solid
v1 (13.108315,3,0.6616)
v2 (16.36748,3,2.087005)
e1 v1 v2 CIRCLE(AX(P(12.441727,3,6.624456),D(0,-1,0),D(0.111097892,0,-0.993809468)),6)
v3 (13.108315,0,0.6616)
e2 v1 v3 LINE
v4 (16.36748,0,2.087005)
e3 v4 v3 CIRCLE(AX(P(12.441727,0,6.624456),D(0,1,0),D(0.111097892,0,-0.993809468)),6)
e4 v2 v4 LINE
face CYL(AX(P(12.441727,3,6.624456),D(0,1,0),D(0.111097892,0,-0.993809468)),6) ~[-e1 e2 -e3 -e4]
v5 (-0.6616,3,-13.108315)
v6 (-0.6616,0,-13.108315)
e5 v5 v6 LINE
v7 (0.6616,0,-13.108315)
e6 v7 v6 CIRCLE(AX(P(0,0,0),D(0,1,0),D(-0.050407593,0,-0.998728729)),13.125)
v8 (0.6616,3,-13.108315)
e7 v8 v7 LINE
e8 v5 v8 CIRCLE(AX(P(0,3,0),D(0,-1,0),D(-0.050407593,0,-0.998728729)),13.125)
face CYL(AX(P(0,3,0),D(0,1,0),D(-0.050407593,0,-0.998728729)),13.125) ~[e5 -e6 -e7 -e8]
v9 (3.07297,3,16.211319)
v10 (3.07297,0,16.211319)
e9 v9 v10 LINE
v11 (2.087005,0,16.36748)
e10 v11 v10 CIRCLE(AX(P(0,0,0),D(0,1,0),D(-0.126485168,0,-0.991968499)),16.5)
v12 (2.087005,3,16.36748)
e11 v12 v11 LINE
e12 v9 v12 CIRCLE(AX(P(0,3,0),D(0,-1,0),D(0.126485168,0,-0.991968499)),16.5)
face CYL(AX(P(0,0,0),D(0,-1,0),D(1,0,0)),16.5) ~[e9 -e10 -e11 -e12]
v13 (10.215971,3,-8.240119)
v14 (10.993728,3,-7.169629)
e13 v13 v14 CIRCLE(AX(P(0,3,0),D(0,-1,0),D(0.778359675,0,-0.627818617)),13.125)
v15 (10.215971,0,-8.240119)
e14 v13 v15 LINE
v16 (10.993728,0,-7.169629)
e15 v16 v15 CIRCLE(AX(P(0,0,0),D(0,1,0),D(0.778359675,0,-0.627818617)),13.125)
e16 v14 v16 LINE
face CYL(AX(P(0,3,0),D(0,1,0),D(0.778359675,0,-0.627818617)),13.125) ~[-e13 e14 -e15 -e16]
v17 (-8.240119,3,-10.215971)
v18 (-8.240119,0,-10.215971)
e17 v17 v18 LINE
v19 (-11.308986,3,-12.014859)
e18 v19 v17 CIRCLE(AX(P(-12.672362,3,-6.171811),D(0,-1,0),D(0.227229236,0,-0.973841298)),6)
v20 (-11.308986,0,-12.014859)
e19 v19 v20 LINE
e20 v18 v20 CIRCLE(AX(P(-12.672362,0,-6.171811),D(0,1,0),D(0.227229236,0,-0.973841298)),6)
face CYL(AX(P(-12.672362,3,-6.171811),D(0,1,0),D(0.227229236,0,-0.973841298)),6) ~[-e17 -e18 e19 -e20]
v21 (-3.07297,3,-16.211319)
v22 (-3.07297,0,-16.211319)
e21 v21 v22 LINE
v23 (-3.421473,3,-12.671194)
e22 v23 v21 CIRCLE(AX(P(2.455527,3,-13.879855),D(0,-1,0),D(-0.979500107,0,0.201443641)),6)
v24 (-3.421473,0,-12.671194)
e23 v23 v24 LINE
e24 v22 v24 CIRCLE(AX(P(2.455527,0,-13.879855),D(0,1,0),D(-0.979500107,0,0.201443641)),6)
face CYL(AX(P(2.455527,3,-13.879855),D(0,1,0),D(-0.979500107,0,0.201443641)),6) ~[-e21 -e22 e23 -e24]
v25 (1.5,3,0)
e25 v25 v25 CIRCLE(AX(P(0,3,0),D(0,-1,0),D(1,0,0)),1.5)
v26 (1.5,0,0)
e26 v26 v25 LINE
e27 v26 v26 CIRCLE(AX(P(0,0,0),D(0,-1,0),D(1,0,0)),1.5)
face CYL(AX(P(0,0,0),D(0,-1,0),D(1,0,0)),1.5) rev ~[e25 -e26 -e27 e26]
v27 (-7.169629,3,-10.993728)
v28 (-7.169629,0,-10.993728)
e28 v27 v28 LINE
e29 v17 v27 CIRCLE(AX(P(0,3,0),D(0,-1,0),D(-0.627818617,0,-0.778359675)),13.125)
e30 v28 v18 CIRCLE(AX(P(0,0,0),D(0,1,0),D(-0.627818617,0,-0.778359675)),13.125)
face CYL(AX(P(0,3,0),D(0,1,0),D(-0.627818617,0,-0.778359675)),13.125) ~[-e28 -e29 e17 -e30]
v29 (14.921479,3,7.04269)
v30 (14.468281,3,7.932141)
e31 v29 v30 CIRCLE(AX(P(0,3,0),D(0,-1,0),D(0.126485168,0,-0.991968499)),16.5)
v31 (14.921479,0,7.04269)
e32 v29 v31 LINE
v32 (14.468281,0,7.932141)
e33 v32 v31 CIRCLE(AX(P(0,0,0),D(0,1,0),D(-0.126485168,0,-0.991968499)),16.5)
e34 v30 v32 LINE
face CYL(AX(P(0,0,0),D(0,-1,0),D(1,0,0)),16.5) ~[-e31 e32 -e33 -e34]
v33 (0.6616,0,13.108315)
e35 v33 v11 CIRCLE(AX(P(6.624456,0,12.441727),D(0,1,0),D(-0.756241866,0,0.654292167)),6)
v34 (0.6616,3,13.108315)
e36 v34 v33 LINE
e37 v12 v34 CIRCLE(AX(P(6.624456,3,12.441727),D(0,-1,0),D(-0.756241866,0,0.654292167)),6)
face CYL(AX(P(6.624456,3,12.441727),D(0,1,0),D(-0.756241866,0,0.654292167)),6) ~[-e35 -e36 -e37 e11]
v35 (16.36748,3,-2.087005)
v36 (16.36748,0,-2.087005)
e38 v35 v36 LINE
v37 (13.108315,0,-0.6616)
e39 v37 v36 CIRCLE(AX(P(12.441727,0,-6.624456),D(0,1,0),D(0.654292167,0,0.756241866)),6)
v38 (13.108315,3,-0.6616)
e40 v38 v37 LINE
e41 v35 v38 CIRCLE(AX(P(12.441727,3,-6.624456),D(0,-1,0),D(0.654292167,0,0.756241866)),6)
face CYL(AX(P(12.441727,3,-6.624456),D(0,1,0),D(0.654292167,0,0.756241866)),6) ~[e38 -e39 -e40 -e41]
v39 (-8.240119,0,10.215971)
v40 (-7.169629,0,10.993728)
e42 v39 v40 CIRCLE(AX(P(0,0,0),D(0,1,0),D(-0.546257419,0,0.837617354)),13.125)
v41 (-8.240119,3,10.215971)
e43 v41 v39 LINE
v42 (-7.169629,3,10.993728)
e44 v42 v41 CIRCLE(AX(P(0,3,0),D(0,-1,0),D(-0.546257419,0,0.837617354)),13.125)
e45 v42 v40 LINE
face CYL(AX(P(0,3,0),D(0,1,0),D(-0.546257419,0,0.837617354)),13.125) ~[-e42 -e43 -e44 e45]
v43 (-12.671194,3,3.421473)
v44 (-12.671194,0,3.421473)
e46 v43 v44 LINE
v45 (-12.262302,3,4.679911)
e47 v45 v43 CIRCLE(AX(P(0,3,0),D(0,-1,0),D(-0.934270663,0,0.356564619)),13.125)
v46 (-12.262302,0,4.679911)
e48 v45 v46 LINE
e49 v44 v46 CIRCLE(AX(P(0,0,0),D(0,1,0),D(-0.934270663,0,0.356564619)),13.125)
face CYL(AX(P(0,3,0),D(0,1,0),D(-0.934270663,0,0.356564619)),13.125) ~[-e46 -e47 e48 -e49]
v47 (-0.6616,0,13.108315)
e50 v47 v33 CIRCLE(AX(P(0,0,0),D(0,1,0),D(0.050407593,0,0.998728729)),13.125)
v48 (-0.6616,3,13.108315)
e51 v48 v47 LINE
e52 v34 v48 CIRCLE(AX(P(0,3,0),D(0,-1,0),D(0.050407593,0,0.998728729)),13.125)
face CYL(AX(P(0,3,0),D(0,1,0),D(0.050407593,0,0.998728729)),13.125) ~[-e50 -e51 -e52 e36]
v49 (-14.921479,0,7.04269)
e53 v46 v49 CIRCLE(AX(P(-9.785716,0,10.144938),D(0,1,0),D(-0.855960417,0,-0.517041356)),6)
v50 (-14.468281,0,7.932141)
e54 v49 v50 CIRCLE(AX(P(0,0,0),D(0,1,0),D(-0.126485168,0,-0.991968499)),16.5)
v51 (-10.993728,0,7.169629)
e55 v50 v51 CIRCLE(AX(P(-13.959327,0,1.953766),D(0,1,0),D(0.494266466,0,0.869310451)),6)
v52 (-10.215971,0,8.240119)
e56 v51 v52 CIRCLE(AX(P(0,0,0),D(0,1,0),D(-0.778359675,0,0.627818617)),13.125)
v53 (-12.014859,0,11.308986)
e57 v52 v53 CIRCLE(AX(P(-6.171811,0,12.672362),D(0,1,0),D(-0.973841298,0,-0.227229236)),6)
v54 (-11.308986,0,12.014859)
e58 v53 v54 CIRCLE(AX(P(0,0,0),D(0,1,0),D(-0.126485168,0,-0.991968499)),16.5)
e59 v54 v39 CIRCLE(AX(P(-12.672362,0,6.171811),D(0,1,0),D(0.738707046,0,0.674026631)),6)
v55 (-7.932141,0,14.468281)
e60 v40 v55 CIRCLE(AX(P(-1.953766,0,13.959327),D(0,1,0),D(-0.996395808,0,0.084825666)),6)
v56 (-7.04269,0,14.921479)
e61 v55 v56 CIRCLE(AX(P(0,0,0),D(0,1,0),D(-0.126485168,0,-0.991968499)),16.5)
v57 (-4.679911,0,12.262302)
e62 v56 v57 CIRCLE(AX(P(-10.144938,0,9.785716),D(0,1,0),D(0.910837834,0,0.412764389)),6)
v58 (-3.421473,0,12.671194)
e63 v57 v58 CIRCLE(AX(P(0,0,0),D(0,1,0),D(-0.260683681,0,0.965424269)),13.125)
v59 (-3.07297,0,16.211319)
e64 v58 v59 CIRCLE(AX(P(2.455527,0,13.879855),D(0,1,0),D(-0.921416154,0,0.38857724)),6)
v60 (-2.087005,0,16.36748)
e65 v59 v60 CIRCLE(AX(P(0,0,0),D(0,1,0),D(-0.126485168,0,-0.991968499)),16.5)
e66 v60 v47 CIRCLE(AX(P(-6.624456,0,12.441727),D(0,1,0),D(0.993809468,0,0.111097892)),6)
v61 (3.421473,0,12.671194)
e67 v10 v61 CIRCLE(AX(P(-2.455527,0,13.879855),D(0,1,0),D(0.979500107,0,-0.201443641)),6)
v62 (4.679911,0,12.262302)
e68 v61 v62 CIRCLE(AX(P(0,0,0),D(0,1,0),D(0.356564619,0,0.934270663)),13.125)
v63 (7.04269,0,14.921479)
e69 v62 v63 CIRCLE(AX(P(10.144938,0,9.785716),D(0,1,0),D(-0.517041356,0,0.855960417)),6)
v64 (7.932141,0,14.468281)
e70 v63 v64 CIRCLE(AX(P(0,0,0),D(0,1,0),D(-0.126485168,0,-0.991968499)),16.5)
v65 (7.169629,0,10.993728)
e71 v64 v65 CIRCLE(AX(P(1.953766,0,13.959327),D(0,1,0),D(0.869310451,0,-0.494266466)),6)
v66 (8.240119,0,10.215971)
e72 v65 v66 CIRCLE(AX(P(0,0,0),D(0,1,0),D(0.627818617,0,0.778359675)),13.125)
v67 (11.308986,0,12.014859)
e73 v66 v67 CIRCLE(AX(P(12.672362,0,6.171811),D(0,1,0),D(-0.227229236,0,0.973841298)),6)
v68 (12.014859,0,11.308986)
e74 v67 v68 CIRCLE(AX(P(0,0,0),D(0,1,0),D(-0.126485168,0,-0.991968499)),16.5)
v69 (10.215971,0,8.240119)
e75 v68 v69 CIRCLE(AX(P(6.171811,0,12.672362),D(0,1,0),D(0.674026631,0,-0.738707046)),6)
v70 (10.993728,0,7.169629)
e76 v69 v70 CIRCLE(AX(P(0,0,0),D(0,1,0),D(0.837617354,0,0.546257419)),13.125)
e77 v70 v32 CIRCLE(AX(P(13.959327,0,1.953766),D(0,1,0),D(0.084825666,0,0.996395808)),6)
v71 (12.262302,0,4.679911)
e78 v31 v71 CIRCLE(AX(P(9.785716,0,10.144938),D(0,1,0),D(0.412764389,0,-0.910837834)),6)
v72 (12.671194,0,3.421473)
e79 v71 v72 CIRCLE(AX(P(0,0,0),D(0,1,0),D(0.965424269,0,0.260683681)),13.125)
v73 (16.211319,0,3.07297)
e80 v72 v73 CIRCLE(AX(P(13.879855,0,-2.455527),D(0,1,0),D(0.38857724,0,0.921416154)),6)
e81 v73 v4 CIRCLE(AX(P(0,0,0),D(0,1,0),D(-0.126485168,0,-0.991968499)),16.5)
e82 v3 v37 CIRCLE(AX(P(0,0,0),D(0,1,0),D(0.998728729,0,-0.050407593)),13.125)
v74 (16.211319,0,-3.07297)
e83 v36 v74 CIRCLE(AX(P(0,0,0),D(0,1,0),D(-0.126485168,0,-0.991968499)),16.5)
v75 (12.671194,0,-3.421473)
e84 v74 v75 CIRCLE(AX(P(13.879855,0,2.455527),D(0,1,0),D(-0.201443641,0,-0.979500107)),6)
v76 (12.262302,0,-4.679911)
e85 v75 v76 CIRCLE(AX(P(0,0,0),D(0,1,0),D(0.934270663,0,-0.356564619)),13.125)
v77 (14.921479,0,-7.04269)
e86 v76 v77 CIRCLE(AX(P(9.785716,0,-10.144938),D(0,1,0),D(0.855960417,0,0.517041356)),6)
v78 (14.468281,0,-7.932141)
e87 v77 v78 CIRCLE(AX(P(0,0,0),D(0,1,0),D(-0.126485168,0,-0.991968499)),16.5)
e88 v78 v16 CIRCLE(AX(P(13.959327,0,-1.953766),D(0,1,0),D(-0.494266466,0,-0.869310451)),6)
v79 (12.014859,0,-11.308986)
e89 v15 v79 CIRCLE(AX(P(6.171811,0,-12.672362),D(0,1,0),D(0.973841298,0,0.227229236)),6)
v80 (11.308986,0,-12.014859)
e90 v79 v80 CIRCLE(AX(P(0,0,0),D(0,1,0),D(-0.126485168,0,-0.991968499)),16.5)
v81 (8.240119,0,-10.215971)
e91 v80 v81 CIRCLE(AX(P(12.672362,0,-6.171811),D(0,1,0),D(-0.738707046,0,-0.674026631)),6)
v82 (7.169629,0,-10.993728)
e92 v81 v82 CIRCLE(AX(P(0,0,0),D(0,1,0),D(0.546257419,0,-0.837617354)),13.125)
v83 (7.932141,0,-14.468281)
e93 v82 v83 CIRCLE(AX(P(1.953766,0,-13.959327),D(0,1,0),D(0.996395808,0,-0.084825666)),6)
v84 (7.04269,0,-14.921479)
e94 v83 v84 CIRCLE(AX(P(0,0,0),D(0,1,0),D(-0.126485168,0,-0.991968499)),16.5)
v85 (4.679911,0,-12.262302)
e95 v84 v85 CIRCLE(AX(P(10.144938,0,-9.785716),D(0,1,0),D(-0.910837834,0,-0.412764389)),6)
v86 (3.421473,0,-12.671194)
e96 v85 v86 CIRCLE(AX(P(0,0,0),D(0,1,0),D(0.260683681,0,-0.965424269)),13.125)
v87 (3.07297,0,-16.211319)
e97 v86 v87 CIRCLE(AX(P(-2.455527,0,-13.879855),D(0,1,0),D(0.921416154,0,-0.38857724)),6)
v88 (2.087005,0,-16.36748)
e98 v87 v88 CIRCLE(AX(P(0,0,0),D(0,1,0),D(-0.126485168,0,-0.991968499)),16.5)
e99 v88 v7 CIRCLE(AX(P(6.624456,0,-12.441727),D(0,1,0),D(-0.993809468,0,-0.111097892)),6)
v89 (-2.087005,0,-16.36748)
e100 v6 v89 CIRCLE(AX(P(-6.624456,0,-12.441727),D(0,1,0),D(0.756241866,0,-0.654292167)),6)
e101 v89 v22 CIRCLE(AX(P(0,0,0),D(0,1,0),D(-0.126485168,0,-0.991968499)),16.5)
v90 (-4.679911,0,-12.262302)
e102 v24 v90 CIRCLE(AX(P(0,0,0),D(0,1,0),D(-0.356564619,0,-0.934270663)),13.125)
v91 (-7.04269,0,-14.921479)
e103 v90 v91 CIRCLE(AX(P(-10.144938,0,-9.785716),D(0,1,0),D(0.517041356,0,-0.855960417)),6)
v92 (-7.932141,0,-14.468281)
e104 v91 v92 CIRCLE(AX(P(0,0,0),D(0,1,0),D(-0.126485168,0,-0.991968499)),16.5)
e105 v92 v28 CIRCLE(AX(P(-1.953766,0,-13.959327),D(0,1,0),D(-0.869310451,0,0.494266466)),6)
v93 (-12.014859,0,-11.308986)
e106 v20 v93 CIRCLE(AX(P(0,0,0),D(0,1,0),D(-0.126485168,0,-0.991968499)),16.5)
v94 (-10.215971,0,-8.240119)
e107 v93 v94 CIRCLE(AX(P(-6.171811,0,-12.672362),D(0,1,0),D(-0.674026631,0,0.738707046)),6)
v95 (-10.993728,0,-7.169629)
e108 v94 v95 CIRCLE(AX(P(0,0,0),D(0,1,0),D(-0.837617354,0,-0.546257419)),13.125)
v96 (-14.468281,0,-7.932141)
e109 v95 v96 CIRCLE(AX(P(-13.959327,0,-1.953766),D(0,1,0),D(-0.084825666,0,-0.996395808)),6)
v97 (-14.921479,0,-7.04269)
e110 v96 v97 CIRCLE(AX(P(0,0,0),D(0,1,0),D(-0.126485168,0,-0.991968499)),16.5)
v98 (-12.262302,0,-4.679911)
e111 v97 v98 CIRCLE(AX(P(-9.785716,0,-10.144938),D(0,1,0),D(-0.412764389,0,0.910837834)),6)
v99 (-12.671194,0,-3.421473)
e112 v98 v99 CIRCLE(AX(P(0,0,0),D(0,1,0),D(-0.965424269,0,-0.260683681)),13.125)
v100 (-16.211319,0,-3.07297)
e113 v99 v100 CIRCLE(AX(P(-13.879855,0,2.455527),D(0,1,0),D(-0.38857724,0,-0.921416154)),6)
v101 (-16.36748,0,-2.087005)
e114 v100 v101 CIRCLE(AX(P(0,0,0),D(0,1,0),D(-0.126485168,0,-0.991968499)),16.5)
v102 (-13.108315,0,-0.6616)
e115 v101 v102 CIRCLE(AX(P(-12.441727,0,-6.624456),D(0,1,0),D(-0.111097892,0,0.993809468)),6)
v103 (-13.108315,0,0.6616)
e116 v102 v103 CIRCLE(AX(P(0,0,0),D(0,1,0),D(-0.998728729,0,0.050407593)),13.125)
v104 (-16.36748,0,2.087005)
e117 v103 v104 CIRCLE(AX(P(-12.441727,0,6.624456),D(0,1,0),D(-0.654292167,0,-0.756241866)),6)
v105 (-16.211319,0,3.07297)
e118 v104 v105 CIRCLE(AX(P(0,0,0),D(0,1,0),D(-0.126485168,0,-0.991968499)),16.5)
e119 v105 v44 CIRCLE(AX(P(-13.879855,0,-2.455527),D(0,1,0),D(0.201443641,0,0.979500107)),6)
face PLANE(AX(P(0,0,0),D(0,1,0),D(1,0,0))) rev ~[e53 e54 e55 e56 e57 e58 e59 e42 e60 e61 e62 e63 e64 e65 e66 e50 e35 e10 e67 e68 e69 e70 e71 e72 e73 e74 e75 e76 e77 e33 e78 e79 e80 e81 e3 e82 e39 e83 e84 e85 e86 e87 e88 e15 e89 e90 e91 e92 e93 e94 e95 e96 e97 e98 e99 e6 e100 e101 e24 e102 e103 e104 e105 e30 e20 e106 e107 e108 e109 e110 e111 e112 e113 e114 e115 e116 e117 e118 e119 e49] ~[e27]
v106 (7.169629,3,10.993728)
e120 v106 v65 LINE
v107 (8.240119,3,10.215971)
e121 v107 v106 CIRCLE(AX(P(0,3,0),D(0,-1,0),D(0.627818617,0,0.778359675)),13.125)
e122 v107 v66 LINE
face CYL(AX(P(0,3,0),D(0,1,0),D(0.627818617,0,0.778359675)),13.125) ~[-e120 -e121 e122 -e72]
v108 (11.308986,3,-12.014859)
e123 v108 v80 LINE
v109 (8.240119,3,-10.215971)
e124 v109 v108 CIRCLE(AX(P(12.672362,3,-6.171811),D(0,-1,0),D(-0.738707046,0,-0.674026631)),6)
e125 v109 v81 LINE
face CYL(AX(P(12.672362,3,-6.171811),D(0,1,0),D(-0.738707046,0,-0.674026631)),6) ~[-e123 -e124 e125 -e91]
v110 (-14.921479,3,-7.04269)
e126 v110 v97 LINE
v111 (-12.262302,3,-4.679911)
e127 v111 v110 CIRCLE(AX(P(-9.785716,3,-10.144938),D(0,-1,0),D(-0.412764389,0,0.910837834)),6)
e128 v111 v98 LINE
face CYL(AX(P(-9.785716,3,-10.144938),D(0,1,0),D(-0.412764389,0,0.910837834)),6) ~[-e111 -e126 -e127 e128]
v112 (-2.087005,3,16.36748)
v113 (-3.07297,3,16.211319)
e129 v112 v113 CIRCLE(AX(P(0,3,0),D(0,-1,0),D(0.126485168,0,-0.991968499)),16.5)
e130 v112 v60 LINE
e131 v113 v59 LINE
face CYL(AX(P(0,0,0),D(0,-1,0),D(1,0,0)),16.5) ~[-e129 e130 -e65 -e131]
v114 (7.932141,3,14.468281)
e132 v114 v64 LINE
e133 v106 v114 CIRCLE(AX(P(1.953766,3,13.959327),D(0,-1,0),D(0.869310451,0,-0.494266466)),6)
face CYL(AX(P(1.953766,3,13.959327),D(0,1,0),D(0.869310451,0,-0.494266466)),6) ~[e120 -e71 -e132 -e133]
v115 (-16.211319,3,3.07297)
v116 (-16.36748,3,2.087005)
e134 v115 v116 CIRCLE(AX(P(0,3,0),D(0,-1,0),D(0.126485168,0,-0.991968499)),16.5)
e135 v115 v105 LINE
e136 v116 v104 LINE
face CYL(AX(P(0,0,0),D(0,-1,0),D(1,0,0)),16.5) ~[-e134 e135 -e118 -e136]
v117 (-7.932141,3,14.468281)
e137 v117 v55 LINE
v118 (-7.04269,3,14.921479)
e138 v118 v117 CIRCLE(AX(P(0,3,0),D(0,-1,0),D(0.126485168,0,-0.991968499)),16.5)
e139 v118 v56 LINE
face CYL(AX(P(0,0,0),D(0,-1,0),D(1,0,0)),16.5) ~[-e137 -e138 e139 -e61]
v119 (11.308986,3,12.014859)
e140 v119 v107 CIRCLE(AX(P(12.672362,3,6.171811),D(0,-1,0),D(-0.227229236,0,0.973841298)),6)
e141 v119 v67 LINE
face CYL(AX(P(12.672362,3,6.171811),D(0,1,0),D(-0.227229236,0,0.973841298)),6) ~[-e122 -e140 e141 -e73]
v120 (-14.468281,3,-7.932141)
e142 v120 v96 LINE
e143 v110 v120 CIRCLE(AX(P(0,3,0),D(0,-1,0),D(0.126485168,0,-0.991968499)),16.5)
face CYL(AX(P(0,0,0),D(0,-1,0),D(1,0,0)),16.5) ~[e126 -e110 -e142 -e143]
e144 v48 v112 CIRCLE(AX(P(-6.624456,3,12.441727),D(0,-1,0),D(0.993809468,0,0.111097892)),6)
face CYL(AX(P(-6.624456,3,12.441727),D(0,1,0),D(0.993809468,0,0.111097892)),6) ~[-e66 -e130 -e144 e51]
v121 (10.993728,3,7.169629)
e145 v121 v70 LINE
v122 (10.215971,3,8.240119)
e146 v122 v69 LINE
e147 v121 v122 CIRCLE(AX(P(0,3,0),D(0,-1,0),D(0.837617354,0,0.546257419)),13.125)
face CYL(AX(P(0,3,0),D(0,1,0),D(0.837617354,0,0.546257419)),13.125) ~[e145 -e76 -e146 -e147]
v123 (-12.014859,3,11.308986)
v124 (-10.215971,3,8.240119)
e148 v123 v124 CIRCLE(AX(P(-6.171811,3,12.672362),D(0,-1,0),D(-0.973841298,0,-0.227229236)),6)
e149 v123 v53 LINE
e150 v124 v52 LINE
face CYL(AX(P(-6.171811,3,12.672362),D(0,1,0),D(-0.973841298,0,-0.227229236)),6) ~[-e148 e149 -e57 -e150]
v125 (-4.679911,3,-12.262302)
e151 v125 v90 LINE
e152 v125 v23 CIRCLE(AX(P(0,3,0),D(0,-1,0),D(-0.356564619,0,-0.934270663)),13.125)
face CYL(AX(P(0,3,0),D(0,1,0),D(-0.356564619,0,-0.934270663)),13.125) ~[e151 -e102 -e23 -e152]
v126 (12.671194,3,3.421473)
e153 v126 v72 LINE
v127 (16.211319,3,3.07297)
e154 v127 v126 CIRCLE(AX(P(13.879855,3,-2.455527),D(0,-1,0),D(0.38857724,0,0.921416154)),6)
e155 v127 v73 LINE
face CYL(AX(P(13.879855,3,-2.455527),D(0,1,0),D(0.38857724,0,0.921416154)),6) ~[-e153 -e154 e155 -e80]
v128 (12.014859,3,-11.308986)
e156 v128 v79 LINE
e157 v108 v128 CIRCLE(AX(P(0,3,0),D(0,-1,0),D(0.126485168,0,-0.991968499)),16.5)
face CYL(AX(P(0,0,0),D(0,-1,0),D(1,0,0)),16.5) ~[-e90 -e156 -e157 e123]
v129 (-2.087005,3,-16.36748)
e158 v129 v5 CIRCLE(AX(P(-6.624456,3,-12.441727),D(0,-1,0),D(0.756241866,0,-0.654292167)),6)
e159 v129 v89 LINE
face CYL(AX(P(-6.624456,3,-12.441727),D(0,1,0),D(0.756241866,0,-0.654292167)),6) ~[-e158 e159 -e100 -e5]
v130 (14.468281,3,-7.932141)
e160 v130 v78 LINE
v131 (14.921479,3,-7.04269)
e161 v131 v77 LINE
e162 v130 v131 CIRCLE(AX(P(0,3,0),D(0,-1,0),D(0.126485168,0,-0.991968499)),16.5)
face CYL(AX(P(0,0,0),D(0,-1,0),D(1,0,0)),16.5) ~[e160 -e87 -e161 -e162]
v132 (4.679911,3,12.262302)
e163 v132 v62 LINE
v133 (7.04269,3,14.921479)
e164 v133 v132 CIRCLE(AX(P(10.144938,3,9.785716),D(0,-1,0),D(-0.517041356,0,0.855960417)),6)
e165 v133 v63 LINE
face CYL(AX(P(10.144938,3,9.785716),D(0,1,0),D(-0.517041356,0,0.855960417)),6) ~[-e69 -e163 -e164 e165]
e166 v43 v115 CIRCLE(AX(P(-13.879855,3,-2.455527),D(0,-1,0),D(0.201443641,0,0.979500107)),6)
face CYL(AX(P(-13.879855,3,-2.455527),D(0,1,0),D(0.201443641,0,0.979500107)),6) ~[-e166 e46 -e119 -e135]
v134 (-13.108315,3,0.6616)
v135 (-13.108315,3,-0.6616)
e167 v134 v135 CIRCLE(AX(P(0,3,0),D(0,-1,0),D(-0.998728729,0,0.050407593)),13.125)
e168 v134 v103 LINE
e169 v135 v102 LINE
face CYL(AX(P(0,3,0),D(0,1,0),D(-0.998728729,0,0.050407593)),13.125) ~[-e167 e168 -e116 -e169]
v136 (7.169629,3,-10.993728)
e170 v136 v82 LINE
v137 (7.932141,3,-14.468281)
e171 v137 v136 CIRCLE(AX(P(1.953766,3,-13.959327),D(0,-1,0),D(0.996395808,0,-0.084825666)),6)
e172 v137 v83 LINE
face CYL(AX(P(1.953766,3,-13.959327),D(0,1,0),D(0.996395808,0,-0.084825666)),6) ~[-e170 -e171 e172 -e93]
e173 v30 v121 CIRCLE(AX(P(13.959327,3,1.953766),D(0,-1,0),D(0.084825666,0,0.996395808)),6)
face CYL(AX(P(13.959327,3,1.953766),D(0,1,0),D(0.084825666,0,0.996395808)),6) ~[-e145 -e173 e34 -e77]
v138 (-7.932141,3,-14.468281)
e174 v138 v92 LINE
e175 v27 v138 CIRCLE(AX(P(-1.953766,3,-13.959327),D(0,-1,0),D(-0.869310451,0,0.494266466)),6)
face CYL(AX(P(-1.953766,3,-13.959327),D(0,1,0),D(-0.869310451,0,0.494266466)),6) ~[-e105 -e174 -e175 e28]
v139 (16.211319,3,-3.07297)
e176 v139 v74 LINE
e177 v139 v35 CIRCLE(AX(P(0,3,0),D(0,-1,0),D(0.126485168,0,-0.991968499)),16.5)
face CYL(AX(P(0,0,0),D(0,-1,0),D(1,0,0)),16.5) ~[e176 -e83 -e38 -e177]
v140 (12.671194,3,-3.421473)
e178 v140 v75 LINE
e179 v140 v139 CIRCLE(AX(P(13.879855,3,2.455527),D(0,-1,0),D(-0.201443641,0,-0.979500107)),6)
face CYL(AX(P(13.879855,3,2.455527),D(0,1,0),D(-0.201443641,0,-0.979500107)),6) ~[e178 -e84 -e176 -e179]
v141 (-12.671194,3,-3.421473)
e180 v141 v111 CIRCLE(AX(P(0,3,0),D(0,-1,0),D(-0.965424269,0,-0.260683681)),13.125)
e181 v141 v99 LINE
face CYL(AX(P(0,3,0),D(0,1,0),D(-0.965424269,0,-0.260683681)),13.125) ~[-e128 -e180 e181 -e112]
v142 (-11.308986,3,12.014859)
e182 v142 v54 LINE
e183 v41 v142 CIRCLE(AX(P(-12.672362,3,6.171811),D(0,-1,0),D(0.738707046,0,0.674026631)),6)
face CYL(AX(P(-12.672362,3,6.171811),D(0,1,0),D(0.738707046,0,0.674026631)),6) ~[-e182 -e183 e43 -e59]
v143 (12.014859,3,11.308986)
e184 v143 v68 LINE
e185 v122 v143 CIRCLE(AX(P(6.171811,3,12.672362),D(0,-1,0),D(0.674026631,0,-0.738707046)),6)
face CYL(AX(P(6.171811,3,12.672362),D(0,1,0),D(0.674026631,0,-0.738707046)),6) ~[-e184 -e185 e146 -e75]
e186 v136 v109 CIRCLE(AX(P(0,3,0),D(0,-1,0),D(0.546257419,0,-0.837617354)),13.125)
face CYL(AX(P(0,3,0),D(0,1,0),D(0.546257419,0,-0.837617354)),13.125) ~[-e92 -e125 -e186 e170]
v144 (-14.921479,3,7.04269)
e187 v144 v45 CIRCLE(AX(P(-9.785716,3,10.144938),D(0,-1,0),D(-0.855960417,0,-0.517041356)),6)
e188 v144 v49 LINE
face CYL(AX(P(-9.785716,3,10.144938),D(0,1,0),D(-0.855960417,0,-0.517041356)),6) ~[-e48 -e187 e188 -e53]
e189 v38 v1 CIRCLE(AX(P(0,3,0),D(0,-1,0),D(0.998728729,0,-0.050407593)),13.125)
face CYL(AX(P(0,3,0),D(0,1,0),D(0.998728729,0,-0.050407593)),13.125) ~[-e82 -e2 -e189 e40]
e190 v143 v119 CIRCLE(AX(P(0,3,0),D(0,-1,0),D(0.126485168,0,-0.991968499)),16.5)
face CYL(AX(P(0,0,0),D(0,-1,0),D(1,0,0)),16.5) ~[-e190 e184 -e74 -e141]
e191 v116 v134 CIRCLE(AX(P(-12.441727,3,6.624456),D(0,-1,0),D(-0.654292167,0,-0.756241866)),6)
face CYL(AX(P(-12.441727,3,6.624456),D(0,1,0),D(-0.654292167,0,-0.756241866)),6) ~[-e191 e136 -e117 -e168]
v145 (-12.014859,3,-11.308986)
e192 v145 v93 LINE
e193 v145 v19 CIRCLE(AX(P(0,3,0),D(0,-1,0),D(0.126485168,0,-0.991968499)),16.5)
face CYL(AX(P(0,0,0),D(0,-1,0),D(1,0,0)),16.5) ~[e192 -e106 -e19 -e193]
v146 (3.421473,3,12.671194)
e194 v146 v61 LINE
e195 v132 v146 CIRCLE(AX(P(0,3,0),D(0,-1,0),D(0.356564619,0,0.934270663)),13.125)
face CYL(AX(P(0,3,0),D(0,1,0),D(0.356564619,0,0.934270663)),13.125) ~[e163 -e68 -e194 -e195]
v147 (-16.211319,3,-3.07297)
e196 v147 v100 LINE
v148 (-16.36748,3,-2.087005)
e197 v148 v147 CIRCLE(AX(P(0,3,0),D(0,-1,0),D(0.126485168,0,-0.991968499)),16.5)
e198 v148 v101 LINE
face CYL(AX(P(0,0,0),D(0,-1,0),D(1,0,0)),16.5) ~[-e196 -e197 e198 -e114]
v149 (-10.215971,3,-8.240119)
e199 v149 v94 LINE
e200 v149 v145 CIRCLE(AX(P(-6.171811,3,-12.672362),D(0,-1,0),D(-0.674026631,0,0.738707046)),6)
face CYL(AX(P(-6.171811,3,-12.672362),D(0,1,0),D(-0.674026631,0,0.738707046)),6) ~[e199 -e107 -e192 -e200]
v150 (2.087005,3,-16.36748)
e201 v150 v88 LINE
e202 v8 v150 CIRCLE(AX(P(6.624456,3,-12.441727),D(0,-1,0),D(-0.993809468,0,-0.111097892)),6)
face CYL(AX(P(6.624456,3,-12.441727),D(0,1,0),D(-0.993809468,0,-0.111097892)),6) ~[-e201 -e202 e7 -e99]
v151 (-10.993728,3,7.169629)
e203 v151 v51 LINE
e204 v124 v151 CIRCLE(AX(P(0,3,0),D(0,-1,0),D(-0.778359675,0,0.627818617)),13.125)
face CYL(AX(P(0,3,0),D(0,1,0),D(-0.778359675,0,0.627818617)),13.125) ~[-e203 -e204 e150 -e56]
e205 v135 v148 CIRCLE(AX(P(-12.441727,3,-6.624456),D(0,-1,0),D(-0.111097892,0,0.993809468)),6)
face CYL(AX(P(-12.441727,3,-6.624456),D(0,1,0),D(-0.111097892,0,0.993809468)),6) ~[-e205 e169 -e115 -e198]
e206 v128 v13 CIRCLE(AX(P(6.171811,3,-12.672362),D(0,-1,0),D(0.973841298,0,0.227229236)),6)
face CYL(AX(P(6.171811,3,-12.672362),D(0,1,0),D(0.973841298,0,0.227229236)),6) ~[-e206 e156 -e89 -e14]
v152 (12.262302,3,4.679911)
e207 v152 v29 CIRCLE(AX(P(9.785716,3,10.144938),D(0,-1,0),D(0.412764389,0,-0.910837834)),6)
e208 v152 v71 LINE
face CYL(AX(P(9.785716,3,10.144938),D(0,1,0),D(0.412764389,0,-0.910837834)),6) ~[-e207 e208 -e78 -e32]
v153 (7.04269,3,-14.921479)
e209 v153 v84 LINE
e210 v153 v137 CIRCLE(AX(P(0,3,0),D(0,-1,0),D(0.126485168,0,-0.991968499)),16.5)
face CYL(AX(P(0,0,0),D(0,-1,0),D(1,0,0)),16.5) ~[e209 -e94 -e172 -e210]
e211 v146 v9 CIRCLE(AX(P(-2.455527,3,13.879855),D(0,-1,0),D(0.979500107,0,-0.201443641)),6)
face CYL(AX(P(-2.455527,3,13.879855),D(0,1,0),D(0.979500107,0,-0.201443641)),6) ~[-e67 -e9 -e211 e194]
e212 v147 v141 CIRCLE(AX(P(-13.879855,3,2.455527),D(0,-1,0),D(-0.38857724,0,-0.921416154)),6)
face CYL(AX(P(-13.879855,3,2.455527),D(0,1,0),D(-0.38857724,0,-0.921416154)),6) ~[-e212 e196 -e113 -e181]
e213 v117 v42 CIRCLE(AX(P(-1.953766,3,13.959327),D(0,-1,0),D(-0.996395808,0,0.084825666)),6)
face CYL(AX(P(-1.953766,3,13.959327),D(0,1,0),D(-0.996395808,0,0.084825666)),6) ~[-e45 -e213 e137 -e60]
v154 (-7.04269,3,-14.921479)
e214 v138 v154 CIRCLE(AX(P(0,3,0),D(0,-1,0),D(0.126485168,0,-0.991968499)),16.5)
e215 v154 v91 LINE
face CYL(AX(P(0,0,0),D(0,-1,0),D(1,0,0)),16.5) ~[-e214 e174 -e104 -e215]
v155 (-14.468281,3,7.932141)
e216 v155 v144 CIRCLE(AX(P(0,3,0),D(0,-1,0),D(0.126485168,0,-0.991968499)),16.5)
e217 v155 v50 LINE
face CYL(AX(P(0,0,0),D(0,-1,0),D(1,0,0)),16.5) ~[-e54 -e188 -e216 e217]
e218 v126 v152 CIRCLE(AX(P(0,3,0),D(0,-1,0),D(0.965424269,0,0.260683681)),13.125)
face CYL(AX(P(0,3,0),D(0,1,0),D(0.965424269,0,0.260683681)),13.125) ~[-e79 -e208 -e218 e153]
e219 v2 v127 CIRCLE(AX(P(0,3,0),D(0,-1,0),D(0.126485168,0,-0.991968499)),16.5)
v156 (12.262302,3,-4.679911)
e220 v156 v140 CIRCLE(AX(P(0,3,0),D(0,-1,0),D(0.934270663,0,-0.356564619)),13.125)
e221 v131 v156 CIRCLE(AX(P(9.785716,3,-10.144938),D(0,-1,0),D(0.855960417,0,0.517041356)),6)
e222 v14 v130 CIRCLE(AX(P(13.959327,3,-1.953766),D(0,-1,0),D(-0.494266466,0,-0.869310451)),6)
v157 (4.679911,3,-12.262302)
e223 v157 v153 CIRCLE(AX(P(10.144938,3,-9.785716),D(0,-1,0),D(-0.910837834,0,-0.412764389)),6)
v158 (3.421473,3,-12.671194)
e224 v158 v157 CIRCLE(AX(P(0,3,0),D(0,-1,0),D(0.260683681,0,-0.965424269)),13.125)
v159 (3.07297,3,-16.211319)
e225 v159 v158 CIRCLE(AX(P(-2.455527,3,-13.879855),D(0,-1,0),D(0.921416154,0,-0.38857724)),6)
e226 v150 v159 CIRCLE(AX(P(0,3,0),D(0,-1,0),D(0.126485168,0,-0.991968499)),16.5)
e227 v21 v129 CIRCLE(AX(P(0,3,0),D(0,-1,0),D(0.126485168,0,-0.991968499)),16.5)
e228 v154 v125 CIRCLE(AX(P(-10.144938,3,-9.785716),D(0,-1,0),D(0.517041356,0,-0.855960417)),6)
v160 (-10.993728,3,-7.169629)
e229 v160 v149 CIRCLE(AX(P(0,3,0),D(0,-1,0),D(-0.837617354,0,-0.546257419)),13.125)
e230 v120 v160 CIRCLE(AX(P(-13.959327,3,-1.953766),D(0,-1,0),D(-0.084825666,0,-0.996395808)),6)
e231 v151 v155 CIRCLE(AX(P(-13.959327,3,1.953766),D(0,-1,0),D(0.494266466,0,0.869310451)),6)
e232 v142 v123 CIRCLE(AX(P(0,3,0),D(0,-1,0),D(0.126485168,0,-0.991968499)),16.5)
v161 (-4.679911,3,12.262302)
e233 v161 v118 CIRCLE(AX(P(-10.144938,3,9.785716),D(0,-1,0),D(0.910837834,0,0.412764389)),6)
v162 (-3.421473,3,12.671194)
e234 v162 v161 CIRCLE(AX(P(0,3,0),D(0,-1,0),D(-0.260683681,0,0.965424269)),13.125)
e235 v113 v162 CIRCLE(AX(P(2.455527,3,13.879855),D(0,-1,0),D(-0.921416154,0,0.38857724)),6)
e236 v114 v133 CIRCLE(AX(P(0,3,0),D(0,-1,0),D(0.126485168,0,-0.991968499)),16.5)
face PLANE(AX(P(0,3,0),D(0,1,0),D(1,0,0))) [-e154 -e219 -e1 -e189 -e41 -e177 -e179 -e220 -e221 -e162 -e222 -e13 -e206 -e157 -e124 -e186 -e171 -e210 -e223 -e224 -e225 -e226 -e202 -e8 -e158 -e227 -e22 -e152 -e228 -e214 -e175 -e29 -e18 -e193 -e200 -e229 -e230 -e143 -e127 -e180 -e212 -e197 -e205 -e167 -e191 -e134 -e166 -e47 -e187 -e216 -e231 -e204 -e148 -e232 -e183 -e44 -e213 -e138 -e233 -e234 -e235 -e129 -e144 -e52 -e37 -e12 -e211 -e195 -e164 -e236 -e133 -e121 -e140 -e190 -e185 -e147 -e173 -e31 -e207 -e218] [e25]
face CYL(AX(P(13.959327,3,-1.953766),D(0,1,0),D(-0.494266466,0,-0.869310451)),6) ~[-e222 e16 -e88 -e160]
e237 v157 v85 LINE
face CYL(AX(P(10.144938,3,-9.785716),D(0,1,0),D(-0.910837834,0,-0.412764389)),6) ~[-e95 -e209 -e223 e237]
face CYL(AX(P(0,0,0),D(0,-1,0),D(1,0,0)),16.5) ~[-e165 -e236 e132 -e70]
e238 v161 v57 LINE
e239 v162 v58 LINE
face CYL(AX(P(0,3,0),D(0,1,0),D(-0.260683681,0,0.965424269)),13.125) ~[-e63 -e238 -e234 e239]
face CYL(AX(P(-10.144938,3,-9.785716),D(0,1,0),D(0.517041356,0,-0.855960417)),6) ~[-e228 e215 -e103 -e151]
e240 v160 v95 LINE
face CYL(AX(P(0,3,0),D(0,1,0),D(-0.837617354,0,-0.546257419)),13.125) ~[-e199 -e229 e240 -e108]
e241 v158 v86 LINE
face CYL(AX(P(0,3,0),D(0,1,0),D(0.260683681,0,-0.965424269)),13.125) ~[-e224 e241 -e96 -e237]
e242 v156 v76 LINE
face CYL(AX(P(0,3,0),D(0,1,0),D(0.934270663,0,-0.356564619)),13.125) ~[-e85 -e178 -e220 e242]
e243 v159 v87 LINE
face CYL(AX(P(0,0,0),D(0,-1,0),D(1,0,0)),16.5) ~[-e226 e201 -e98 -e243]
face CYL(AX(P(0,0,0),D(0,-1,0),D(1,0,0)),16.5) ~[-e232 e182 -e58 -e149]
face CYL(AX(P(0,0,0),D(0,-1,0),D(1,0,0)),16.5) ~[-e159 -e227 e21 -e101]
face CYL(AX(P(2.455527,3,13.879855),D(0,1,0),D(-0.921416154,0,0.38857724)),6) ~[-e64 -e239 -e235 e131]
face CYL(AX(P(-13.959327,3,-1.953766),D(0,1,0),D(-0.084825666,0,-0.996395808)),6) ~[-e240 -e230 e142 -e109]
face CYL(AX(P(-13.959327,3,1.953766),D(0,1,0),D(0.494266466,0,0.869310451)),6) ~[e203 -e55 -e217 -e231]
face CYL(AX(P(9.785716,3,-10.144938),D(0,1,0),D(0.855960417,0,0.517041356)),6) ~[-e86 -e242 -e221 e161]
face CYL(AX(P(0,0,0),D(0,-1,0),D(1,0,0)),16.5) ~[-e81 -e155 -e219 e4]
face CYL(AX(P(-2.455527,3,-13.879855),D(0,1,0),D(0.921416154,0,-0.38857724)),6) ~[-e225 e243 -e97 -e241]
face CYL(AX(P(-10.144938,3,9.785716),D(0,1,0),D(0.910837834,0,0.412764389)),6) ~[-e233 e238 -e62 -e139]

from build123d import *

# Parameters (mm, degrees)
SKETCH1_R           = 16.5
BOSS_EXTRUDE1_DEPTH = 3
CUT_EXTRUDE1_DEPTH  = 4
CIRPATTERN1_COUNT   = 20
SKETCH4_R           = 1.5
CUT_EXTRUDE3_DEPTH  = 10


with BuildPart() as part:
    # Sketch1 → Boss-Extrude1 (new body)
    with BuildSketch(Plane(origin=(0, 0, 0), x_dir=(1, 0, 0), z_dir=(0, 1, 0))):
        Circle(SKETCH1_R)
    extrude(amount=BOSS_EXTRUDE1_DEPTH)

    # Sketch2 → Cut-Extrude1 (cut, through all)
    with BuildSketch(Plane(origin=(0, 3, 0), x_dir=(1, 0, 0), z_dir=(0, 1, 0))):
        with BuildLine():
            ThreePointArc((-0.661599664, 13.108314571), (0, 13.125), (0.661599664, 13.108314571))
            ThreePointArc((0.661599664, 13.108314571), (1.127215597, 14.845961564), (2.087005275, 16.367480227))
            ThreePointArc((2.087005275, 16.367480227), (0, 16.5), (-2.087005275, 16.367480227))
            ThreePointArc((-2.087005275, 16.367480227), (-1.127215597, 14.845961564), (-0.661599664, 13.108314571))
        make_face()
    cut_extrude1 = extrude(amount=-CUT_EXTRUDE1_DEPTH, mode=Mode.SUBTRACT)

    # CirPattern1: Cut-Extrude1 ×20 about axis
    cirpattern1_axis = Axis((0, 0, 0), (0, 1, 0))
    for i in range(1, CIRPATTERN1_COUNT):
        add(cut_extrude1.rotate(cirpattern1_axis, i * 360 / CIRPATTERN1_COUNT), mode=Mode.SUBTRACT)

    # Sketch4 → Cut-Extrude3 (cut)
    with BuildSketch(Plane.XZ):
        Circle(SKETCH4_R)
    extrude(amount=-CUT_EXTRUDE3_DEPTH, mode=Mode.SUBTRACT)


solid = part.part
